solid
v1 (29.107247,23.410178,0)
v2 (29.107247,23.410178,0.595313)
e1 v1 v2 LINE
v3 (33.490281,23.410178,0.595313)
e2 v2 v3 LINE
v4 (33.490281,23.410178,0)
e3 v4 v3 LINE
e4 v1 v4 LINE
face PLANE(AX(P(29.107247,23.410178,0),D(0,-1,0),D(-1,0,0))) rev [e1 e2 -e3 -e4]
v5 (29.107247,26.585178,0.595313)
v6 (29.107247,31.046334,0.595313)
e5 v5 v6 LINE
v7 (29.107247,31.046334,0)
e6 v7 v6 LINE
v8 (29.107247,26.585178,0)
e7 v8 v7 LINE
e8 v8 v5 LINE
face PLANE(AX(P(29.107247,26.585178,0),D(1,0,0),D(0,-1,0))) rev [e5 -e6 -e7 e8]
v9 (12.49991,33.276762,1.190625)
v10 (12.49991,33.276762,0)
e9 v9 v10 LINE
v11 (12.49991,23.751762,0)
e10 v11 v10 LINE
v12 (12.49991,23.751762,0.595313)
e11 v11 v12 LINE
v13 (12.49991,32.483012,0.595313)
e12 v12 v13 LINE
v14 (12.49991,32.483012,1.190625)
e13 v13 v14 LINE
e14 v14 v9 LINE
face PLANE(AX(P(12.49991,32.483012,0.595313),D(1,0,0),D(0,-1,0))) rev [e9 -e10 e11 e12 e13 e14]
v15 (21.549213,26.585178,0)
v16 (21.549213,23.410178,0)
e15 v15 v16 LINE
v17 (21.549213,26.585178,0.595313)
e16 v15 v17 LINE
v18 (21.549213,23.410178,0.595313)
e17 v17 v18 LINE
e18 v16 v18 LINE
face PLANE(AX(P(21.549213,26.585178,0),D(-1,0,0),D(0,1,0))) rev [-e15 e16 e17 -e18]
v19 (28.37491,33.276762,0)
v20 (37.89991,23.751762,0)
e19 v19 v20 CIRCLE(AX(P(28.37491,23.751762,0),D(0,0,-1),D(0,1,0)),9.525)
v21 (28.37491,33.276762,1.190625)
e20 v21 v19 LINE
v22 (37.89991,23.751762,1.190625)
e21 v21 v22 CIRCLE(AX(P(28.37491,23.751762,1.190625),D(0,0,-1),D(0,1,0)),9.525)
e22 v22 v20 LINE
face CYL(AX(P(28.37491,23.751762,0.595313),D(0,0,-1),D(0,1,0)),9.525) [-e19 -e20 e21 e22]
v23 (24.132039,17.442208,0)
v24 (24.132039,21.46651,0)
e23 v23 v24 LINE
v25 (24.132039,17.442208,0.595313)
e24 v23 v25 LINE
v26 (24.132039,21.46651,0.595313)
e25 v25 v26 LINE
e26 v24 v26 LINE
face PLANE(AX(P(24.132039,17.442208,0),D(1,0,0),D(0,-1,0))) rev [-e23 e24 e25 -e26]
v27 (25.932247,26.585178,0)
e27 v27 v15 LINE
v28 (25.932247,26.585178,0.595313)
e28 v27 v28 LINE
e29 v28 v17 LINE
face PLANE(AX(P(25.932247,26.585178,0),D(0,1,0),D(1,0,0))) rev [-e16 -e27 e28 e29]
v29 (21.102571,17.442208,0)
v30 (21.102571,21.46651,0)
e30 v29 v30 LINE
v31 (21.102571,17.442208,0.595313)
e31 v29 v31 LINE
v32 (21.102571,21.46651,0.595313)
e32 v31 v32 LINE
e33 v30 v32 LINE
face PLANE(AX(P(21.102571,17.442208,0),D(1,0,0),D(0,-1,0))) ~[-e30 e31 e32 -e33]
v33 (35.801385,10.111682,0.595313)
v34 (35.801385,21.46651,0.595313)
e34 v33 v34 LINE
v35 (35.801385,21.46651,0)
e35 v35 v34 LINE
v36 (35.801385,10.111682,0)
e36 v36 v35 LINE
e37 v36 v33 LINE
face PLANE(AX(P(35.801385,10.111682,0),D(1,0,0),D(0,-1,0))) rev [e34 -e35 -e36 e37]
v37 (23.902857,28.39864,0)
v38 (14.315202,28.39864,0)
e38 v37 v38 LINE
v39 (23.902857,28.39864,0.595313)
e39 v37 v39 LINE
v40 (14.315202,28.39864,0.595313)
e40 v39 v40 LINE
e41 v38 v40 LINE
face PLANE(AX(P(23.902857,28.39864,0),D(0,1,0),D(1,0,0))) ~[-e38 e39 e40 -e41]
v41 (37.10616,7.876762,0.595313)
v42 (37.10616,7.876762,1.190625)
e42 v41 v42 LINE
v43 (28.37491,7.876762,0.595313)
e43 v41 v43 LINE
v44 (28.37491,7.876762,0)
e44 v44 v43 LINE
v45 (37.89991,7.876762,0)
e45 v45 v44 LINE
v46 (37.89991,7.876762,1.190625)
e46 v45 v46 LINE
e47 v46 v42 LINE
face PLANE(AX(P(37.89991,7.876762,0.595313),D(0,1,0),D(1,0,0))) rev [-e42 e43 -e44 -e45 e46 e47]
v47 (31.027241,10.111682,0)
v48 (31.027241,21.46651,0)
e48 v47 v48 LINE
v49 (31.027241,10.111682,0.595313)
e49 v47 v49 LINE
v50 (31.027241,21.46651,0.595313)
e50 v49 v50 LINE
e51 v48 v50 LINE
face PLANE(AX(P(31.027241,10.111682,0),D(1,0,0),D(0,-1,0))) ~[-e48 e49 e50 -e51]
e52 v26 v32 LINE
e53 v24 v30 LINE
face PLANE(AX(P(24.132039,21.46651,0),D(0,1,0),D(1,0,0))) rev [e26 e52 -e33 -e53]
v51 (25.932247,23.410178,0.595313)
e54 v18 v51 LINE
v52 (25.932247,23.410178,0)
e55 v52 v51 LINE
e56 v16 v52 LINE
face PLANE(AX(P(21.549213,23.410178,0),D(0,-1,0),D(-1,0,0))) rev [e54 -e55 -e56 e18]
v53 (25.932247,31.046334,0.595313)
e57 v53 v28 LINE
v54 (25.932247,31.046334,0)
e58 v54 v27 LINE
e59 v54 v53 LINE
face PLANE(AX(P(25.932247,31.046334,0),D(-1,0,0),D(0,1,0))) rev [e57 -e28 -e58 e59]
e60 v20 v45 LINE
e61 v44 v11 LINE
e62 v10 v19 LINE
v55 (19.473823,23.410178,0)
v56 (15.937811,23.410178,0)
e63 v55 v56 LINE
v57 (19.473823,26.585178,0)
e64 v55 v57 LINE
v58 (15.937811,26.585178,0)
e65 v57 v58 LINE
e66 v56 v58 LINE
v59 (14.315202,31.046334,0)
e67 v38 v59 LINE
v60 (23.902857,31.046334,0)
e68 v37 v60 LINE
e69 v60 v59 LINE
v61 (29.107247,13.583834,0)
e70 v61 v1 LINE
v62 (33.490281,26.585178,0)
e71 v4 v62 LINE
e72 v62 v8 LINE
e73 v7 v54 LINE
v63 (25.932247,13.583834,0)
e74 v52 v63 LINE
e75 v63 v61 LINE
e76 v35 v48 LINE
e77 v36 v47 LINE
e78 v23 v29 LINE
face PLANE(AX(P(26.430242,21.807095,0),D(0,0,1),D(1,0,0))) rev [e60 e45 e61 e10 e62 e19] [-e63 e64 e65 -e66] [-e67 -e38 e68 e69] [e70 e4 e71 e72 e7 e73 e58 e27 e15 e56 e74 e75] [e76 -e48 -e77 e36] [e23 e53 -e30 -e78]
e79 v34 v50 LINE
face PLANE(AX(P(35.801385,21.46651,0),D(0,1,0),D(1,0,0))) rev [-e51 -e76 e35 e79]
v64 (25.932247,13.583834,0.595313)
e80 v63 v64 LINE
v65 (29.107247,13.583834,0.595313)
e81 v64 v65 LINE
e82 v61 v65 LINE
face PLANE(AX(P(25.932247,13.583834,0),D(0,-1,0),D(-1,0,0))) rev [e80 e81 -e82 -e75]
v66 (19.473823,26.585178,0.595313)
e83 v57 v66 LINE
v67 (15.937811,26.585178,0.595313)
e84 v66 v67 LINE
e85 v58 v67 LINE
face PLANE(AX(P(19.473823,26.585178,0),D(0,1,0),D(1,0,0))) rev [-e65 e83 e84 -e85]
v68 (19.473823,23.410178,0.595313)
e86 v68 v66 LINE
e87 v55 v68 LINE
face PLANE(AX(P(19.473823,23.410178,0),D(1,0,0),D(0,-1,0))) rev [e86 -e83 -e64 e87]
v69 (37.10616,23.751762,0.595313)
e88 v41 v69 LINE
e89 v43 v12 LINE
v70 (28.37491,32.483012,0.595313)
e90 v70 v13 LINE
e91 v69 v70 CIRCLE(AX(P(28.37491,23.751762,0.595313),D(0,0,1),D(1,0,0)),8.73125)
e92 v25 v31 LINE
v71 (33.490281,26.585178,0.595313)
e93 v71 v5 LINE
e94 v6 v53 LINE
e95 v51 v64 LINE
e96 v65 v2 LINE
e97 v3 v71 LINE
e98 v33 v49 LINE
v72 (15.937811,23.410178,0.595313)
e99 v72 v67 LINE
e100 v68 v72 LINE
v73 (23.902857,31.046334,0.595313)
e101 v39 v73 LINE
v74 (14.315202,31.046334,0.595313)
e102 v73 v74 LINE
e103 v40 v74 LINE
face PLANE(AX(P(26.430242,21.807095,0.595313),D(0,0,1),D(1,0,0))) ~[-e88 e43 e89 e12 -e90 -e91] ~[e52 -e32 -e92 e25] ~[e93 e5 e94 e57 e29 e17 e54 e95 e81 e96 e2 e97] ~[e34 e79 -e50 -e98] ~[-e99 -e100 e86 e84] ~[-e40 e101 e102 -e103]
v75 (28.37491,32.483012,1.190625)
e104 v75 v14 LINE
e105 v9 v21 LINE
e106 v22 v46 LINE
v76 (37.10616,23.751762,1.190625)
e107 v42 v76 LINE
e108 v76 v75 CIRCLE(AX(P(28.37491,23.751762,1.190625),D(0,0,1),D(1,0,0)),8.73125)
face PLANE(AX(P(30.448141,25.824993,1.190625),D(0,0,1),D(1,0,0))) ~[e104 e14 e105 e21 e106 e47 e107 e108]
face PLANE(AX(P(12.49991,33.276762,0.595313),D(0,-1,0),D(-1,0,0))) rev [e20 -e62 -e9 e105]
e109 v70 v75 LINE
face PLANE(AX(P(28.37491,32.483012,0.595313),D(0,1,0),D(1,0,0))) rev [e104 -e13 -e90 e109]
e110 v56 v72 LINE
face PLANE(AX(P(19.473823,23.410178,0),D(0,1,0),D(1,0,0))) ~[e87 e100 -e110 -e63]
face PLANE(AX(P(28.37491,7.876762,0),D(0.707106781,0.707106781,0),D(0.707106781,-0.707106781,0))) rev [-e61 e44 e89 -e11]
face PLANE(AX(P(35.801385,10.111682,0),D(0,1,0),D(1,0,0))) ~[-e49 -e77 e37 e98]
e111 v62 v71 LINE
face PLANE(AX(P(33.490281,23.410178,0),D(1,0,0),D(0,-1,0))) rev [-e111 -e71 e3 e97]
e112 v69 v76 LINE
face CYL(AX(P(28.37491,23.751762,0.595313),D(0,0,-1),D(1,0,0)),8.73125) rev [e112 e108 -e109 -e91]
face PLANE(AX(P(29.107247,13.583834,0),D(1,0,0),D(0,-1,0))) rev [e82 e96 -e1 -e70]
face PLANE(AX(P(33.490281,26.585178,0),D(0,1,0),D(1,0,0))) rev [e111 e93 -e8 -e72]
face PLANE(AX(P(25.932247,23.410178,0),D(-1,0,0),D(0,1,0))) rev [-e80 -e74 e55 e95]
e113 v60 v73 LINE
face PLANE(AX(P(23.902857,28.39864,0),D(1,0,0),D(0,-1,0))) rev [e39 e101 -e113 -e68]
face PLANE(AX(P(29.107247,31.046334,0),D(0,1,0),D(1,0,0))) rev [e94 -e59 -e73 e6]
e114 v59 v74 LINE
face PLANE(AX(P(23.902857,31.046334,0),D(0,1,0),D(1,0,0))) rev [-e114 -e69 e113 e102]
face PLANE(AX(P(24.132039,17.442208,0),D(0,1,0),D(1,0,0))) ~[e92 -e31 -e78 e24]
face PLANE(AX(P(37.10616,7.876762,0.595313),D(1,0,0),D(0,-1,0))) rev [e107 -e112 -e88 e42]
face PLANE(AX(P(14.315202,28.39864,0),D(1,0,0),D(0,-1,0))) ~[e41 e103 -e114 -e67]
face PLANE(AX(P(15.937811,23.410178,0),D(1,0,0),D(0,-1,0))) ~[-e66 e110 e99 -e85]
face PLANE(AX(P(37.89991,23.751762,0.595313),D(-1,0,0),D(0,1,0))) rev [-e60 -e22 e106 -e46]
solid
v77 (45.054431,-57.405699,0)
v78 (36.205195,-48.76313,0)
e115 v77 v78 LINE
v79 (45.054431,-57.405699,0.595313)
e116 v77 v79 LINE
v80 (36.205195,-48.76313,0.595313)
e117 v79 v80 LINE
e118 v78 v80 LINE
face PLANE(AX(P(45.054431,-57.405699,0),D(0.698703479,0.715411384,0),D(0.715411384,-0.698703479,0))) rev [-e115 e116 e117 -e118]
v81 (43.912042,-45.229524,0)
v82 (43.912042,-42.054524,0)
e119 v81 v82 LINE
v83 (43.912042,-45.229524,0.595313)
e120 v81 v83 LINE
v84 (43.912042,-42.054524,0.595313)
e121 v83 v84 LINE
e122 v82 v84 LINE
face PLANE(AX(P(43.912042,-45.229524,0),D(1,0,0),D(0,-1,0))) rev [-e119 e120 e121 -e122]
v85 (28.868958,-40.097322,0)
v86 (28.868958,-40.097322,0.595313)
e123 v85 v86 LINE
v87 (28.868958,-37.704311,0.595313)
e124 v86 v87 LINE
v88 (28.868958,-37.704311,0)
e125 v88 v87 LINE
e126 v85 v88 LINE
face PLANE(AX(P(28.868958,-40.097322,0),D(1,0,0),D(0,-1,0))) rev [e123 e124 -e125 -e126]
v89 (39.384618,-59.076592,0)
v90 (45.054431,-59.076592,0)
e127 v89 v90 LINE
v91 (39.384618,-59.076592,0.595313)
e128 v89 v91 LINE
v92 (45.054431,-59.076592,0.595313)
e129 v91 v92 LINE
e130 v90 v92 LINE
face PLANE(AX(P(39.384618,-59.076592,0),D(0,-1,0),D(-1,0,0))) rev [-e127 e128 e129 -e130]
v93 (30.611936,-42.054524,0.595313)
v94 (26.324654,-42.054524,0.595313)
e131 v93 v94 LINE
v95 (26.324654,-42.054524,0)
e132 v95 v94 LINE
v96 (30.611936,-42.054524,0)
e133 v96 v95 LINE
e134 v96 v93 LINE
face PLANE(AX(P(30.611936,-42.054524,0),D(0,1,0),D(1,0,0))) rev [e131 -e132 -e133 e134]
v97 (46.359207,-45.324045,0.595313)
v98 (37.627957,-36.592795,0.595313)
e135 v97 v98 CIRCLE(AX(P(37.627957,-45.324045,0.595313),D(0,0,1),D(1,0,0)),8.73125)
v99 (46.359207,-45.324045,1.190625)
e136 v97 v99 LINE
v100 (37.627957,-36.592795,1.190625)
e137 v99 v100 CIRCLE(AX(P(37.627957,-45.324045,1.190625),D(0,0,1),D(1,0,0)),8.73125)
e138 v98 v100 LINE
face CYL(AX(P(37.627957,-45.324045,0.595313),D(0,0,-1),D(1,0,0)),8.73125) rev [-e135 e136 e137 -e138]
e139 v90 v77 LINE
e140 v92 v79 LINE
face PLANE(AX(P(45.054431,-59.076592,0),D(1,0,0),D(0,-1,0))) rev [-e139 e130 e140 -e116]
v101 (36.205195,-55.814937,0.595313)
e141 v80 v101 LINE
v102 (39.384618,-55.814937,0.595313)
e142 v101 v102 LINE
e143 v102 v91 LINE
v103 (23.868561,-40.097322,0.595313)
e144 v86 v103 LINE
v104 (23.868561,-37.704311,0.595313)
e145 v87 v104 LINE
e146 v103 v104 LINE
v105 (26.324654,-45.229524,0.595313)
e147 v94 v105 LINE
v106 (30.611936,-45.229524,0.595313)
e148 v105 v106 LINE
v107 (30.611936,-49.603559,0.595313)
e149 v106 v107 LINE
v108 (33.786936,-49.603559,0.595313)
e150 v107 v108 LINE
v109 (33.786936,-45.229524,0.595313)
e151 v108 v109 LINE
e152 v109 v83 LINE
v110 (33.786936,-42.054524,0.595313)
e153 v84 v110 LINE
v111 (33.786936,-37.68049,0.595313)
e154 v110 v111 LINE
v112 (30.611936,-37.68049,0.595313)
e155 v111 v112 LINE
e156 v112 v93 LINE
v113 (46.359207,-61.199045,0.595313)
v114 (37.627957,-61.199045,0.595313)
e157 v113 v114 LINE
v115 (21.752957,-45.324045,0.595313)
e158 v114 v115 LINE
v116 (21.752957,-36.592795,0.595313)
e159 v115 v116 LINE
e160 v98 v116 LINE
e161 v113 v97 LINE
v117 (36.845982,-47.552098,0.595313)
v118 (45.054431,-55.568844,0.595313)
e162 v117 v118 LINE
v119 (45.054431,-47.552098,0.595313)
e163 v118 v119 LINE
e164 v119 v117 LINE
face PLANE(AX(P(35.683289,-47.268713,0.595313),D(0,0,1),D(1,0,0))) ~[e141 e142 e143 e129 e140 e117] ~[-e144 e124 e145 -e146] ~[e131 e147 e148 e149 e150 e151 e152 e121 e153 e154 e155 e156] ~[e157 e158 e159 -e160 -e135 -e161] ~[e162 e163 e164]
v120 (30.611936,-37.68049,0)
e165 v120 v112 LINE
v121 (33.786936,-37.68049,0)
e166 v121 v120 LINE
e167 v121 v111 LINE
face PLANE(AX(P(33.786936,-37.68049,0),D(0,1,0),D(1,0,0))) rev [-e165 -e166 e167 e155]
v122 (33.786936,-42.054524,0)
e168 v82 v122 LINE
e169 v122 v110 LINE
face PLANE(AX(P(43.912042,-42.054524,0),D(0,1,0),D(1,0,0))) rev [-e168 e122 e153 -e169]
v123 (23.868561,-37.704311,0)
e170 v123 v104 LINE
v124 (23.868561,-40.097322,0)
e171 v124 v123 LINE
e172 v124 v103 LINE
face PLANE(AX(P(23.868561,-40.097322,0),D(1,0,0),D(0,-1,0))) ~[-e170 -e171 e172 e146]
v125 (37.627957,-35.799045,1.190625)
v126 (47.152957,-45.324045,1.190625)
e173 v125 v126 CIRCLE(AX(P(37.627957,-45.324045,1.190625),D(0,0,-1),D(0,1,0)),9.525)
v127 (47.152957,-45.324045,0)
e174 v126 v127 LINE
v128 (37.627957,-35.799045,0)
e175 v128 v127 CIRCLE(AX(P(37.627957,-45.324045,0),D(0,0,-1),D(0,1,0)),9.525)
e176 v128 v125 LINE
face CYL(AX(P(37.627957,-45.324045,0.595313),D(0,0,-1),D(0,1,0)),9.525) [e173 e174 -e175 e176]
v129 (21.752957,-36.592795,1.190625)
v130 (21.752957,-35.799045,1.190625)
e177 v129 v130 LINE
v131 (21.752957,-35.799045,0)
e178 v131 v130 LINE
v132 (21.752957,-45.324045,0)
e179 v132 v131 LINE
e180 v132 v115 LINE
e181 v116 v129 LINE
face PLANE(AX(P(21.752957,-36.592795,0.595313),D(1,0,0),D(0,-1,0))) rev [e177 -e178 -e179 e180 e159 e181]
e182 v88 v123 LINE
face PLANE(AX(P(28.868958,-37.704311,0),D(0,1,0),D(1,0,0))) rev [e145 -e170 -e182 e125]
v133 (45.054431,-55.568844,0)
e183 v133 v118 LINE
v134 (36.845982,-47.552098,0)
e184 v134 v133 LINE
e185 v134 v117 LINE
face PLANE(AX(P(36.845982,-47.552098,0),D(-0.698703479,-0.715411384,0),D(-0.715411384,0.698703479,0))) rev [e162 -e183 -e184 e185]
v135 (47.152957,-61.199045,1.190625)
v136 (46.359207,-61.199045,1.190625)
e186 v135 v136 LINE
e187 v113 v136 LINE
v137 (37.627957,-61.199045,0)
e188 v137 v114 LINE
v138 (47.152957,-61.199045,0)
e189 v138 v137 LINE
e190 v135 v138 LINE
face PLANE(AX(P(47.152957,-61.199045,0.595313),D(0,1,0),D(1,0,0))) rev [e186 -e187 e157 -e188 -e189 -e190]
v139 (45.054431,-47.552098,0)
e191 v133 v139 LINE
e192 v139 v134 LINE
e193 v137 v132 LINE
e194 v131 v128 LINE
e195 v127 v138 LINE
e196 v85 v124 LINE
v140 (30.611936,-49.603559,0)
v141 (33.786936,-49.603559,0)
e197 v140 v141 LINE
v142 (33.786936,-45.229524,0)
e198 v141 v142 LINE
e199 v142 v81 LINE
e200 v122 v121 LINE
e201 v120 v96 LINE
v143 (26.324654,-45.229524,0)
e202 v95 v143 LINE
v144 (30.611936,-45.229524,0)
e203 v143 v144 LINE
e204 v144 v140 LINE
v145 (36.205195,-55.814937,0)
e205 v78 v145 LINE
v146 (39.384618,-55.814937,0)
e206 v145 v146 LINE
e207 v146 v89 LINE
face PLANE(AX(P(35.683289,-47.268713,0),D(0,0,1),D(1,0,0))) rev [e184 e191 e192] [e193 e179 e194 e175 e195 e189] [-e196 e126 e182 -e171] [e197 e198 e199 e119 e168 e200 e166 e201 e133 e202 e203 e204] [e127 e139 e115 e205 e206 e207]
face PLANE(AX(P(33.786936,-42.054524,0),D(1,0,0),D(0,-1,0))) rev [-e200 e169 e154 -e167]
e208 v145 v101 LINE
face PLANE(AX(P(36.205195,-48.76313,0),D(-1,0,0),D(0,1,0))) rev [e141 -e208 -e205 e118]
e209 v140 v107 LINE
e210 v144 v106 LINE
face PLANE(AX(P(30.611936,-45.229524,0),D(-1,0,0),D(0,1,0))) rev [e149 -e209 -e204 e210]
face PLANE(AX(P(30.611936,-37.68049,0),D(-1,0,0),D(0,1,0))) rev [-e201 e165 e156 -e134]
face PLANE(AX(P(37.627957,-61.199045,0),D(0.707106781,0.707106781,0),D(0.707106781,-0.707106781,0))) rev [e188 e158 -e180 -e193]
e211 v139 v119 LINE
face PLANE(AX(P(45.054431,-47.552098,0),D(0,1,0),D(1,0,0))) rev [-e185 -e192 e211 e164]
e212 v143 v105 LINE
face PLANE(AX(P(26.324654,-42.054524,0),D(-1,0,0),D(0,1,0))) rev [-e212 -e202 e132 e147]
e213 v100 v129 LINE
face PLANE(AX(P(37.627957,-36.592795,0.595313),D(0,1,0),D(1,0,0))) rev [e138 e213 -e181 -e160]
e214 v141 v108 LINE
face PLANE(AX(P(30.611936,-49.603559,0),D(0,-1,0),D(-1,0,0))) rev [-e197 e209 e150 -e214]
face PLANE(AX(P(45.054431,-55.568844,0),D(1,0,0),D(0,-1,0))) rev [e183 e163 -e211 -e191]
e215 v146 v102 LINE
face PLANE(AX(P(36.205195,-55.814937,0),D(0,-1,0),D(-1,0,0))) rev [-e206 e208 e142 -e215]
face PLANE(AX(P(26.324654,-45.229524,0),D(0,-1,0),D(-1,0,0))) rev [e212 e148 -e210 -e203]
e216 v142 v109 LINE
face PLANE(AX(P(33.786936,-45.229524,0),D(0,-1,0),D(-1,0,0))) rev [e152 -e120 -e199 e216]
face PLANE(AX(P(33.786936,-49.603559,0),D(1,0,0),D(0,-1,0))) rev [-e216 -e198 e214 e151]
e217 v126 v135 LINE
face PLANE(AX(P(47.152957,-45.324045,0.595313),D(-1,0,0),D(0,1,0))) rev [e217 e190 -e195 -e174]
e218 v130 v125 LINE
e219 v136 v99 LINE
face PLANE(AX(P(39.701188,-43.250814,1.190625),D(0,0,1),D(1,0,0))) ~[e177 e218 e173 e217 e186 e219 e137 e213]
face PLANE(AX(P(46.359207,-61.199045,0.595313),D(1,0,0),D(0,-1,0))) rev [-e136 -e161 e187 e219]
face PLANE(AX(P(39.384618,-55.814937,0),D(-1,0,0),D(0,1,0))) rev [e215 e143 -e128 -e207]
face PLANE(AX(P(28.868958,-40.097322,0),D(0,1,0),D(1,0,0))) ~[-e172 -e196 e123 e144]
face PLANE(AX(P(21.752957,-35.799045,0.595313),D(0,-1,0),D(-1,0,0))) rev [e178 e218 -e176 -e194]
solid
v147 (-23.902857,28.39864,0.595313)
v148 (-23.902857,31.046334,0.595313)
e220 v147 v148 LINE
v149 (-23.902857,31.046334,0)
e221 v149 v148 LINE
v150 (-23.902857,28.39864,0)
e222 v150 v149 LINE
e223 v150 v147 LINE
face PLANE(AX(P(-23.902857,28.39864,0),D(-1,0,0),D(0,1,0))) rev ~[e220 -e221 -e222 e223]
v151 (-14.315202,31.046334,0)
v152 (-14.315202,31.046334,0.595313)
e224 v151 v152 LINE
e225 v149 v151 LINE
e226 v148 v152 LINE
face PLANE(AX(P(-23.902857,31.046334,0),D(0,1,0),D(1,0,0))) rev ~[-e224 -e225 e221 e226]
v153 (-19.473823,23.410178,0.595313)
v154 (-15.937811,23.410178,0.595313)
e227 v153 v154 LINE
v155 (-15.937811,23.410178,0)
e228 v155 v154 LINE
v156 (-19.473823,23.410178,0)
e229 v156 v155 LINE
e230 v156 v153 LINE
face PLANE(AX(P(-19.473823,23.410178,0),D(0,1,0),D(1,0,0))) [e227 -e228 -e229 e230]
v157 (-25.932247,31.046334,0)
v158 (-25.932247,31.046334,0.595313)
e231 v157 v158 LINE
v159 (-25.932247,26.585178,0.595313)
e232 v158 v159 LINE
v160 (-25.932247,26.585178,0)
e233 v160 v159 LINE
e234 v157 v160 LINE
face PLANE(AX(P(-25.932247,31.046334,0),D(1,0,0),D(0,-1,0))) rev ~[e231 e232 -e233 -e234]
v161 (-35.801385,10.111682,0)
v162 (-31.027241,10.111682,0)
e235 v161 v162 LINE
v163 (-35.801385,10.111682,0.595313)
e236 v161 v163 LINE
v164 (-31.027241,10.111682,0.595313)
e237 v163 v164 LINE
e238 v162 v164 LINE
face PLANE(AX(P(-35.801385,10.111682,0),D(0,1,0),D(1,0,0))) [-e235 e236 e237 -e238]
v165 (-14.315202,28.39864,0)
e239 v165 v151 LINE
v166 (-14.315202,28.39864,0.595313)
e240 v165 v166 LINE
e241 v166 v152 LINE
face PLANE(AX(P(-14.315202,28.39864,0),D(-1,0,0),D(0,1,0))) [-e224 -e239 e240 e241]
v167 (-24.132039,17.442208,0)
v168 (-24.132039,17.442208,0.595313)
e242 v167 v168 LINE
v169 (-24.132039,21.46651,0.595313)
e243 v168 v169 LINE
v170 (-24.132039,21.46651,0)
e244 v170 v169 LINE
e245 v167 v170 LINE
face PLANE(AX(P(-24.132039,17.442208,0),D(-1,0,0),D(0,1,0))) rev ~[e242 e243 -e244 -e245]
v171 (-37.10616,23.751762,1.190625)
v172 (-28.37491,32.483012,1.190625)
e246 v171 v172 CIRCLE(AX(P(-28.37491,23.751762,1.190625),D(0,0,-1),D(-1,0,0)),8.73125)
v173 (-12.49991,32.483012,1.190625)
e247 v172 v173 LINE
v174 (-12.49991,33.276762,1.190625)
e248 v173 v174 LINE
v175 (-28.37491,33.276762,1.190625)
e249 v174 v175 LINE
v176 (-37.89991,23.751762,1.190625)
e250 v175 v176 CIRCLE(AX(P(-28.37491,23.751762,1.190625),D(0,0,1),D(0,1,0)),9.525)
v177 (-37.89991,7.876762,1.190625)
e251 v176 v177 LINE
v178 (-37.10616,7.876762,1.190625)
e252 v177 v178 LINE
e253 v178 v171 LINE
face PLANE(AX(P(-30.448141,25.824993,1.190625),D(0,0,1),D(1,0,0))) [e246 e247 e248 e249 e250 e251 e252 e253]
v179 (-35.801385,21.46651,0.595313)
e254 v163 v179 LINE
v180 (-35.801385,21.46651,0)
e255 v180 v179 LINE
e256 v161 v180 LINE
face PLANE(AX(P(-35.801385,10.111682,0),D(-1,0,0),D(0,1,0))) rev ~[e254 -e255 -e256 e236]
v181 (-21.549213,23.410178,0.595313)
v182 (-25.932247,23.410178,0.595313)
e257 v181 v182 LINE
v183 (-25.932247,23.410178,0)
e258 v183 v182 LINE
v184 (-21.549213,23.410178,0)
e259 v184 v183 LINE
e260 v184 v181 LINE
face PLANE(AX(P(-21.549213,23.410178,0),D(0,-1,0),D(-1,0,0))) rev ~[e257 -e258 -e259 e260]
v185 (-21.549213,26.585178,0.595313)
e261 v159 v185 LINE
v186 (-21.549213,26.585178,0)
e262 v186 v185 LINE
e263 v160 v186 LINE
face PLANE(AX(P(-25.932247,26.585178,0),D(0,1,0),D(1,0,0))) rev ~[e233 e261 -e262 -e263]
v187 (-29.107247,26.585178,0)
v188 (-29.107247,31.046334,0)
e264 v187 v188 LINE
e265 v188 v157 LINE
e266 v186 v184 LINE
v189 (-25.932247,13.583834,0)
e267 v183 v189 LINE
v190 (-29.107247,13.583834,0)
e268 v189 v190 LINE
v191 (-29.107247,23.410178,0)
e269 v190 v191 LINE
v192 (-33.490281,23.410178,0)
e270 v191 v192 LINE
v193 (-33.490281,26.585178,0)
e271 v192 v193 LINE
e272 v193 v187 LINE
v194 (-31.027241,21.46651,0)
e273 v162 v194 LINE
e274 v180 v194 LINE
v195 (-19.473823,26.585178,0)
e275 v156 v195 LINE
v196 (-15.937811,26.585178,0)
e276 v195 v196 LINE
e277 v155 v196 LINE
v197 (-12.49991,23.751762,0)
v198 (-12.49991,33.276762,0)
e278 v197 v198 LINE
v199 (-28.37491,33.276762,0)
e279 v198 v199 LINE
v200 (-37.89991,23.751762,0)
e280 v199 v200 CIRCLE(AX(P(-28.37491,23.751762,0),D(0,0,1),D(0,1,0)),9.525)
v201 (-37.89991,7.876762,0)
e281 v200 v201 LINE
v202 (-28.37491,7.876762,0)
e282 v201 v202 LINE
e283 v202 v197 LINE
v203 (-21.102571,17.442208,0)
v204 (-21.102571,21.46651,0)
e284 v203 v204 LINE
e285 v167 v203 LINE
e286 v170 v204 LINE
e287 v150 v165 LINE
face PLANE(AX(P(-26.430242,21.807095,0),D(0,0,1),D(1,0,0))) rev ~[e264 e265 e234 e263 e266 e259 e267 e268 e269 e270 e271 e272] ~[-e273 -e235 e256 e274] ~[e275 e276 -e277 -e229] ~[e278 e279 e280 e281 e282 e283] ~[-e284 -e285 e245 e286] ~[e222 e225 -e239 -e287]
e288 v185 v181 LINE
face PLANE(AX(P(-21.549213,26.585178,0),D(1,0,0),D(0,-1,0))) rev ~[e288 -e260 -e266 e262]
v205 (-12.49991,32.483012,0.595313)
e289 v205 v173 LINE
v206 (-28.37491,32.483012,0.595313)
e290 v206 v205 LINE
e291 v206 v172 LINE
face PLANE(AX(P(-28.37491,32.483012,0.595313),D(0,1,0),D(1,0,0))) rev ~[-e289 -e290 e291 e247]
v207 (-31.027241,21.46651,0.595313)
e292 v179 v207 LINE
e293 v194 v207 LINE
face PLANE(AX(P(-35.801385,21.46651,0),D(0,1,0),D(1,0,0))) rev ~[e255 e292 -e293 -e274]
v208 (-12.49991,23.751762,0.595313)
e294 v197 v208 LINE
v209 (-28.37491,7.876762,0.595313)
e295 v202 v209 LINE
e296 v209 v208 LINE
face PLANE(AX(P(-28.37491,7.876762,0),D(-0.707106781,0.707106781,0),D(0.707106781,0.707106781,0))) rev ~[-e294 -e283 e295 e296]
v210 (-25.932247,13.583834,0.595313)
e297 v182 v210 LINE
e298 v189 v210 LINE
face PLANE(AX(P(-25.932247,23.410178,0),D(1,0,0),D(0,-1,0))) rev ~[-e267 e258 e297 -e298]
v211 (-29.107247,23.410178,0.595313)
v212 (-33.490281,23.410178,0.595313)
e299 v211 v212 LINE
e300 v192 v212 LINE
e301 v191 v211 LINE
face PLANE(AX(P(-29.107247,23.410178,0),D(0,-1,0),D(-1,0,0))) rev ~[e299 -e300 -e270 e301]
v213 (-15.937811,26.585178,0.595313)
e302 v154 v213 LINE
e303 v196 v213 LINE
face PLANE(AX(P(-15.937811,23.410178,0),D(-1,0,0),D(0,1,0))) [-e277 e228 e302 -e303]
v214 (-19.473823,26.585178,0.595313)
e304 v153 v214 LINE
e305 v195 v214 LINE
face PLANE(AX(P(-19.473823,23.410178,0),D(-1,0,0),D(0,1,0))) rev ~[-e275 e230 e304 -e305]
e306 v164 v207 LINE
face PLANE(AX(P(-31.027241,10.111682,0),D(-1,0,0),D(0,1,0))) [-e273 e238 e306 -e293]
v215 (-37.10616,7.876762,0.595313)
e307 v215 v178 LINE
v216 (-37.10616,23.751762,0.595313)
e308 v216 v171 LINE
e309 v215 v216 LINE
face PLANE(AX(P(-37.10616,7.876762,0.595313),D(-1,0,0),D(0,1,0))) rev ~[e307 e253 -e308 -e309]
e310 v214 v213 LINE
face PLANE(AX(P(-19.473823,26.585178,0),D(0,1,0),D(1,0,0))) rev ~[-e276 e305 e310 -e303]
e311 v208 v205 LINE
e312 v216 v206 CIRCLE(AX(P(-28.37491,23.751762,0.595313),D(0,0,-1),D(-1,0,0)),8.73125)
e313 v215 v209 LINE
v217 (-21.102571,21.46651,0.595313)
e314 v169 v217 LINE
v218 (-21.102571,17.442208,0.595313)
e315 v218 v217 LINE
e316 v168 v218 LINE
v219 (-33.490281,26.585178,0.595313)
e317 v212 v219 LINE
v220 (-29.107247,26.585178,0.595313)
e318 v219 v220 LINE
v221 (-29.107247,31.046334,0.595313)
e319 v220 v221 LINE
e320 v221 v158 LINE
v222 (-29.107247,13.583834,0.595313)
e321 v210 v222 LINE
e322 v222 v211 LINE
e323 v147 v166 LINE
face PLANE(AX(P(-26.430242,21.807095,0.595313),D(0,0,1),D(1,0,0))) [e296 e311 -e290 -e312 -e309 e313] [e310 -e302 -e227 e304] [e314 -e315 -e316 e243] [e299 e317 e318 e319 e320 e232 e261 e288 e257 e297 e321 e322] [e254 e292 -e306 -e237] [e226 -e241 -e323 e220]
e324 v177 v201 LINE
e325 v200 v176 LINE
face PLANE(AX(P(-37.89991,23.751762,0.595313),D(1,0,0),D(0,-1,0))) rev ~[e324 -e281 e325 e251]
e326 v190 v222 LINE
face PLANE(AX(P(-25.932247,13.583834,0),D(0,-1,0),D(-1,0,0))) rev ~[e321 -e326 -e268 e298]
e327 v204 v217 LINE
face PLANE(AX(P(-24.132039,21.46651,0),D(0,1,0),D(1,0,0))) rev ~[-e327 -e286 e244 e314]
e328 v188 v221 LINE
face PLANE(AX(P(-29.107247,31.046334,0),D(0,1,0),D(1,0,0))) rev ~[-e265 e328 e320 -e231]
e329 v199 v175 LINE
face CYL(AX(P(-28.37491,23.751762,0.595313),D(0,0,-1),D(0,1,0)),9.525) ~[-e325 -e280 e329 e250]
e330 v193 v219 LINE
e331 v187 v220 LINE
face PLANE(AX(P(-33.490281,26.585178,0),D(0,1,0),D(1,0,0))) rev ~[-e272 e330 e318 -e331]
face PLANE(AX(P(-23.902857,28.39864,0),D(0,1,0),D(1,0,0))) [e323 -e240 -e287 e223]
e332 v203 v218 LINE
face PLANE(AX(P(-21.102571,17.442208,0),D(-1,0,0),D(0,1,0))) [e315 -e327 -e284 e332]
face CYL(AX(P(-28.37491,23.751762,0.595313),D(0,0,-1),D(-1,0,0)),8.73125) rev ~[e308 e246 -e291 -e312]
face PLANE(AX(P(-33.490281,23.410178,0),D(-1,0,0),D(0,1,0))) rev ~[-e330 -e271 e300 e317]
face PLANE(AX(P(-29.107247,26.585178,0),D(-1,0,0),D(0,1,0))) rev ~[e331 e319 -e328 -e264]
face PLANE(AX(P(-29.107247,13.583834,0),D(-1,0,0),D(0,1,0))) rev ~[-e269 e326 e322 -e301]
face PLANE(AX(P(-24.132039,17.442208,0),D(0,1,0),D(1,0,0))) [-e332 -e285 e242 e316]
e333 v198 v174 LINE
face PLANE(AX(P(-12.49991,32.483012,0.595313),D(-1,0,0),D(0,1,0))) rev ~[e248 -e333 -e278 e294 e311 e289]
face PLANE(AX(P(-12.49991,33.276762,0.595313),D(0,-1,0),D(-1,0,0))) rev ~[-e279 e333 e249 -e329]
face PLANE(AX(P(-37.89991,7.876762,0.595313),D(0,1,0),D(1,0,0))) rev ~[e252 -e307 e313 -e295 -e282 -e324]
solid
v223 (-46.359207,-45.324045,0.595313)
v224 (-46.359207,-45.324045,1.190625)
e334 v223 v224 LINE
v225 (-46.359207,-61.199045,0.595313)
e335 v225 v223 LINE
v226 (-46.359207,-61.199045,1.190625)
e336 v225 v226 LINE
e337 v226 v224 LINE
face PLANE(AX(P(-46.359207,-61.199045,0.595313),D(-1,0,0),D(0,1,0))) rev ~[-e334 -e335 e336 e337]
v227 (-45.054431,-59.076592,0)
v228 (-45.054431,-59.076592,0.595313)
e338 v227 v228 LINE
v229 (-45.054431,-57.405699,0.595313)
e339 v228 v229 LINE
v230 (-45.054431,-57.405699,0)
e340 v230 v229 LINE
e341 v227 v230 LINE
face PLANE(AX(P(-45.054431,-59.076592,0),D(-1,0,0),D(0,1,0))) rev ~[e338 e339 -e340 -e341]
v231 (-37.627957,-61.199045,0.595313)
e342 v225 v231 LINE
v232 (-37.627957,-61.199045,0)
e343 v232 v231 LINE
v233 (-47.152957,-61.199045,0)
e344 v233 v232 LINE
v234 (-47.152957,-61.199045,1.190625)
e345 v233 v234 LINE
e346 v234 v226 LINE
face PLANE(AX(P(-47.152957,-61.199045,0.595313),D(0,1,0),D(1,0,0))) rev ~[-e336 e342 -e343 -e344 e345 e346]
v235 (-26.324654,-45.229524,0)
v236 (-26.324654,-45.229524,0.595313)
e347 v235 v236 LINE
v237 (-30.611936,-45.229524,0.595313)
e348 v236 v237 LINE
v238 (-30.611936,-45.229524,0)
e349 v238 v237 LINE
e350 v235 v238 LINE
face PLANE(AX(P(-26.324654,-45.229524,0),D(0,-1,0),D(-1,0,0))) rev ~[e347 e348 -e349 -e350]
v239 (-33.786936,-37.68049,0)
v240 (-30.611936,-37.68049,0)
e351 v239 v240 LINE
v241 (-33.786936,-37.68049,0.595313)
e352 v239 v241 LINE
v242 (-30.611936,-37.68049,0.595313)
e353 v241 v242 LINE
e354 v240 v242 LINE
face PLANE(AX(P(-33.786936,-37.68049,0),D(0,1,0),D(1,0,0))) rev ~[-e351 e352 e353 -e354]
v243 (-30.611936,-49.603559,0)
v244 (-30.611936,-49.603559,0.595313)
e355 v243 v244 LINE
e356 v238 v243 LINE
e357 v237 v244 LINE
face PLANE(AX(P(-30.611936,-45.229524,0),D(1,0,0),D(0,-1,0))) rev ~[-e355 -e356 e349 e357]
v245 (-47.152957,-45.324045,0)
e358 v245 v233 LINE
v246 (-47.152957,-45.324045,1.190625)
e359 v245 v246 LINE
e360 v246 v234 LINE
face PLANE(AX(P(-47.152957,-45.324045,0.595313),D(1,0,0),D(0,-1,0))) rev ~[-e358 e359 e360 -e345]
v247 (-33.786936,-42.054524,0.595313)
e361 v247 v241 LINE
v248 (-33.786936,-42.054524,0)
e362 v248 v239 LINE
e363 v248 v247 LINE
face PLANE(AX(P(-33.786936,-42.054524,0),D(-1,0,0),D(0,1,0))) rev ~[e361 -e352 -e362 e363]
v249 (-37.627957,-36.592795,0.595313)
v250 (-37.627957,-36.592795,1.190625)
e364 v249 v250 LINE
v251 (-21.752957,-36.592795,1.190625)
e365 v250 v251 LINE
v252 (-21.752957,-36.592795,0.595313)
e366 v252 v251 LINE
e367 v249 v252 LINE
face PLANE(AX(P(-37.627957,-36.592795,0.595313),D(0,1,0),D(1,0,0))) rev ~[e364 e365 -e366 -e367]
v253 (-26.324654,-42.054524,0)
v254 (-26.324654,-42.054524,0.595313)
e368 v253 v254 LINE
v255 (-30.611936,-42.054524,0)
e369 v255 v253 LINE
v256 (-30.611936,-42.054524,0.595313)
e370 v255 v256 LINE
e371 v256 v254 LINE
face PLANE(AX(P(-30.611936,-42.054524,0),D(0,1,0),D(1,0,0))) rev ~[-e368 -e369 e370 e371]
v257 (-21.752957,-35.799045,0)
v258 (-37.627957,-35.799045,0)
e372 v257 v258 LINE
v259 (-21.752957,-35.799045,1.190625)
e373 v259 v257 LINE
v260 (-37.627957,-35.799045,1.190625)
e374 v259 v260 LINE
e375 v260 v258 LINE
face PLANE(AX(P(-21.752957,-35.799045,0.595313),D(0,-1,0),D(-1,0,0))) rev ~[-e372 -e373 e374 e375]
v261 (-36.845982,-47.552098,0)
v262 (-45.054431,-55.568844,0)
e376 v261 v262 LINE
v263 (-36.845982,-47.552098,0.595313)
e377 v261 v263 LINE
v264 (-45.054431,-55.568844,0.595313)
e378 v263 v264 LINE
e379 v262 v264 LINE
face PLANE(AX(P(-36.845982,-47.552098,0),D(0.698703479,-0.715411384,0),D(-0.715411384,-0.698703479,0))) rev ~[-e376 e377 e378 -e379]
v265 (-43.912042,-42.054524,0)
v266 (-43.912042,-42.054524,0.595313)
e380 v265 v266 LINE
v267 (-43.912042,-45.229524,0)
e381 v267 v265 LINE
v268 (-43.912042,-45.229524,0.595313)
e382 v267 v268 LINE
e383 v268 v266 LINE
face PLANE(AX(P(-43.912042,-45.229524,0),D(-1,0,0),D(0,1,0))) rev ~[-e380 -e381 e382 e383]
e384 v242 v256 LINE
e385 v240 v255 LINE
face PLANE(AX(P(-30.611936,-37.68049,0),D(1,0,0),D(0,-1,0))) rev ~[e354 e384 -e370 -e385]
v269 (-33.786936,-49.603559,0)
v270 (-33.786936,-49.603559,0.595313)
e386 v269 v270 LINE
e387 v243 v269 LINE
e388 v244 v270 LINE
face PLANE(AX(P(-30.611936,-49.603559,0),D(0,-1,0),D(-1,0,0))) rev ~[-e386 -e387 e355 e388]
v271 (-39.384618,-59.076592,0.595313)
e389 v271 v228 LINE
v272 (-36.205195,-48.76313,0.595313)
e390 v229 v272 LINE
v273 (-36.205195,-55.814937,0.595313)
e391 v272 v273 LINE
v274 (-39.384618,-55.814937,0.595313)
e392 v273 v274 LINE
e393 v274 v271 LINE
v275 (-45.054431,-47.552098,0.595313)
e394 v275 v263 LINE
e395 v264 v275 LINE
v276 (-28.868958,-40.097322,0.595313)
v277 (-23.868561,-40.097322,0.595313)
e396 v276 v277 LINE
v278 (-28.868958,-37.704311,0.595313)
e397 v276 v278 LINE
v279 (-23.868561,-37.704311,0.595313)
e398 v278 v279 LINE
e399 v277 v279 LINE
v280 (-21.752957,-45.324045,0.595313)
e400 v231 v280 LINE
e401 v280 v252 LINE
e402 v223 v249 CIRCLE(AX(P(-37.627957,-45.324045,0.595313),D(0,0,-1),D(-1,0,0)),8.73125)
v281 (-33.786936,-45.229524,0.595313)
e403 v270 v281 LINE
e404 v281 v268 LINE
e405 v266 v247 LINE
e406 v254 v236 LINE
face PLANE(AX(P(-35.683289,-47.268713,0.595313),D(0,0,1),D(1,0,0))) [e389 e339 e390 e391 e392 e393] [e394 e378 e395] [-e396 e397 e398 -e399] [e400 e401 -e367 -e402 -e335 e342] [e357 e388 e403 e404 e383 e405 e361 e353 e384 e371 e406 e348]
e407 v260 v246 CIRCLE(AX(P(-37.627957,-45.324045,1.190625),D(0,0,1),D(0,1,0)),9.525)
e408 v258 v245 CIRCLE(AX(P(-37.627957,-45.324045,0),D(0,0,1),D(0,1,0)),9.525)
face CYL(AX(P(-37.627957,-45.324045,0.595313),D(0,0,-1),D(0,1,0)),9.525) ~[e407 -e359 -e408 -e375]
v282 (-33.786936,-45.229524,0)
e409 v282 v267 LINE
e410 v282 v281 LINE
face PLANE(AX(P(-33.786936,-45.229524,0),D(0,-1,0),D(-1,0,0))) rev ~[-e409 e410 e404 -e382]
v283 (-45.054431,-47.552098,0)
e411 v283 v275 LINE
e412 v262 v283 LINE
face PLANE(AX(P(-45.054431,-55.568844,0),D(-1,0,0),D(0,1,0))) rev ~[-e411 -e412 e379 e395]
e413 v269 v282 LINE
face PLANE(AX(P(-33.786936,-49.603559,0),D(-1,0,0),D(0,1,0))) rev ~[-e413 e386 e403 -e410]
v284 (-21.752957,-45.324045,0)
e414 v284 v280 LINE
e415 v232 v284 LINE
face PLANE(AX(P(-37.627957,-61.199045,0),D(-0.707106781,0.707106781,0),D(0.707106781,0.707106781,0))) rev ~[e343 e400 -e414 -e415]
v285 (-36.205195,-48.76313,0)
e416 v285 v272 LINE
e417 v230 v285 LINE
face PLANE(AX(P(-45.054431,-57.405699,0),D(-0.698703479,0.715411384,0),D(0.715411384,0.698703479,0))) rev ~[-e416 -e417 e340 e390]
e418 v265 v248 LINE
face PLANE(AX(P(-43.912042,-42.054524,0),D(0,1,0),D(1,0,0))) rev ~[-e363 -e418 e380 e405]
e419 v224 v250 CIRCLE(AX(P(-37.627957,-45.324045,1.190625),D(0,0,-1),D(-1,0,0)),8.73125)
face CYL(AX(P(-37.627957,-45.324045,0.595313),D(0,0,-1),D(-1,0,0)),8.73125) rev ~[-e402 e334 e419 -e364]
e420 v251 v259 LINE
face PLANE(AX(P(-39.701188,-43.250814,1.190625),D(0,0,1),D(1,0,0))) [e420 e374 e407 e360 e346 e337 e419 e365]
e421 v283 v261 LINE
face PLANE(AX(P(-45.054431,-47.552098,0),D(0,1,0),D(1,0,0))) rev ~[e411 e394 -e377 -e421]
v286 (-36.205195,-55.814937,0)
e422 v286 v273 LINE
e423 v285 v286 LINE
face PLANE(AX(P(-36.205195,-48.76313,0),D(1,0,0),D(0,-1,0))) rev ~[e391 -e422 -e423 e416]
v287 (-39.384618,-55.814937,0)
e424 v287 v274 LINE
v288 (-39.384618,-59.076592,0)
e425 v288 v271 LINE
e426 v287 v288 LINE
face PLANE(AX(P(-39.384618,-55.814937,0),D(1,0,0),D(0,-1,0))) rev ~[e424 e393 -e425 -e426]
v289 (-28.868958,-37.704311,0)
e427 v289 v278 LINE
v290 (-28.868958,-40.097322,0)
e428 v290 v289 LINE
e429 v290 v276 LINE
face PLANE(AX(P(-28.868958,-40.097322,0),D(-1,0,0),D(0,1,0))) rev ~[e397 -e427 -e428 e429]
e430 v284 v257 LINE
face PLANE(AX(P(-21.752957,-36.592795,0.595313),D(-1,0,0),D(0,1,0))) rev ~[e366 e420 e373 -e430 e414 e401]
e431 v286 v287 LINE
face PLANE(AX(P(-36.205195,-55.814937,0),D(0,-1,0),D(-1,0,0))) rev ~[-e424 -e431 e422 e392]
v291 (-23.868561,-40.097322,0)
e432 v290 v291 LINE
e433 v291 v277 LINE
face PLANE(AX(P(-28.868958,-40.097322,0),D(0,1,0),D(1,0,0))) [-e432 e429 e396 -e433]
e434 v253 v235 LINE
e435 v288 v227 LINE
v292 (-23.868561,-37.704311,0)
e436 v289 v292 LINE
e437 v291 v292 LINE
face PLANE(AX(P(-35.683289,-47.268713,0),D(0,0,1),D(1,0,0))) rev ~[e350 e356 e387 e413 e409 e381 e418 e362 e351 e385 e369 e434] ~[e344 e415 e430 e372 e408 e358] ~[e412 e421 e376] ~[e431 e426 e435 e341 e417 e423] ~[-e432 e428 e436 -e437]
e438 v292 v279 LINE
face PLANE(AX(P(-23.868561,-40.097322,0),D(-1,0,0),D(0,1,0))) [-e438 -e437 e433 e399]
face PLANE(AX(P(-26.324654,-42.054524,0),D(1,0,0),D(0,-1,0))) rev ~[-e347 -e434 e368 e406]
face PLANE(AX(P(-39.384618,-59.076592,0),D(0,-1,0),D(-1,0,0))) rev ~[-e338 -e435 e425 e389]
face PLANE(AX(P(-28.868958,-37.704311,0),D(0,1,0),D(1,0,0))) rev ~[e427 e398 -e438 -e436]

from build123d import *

# Parameters (mm, degrees)
F0_W      = 4.7741434537
F0_H      = 11.3548277877
F0_W_2    = 3.029467538
F0_H_2    = 4.0243016556
F0_W_3    = 3.5360120237
F0_H_3    = 3.175
F0_W_4    = 9.5876548439
F0_H_4    = 2.6476947606
F1_DEPTH  = 0.5953125
F3_W      = 5.000397563
F3_H      = 2.3930110037
F4_DEPTH  = 0.5953125
F7_DEPTH  = 0.5953125
F10_DEPTH = 0.5953125


with BuildPart() as f1:
    # F0 (on Top) → F1 (new body)
    with BuildSketch(Plane.XY):
        with BuildLine():
            Line((-37.8999099401, 23.7517624235), (-37.8999099401, 7.8767624235))
            Line((-37.8999099401, 7.8767624235), (-28.3749099401, 7.8767624235))
            Line((-28.3749099401, 7.8767624235), (-12.4999099401, 23.7517624235))
            Line((-12.4999099401, 23.7517624235), (-12.4999099401, 33.2767624235))
            Line((-12.4999099401, 33.2767624235), (-28.3749099401, 33.2767624235))
            ThreePointArc((-28.3749099401, 33.2767624235), (-35.1101020309, 30.4869545143), (-37.8999099401, 23.7517624235))
        make_face()
        with Locations((-33.4143128712, 15.7890960108)):
            Rectangle(F0_W, F0_H, mode=Mode.SUBTRACT)
        with Locations((-22.6173051633, 19.4543590769)):
            Rectangle(F0_W_2, F0_H_2, mode=Mode.SUBTRACT)
        Polygon((-29.1072471009, 31.0463342831), (-27.5197471009, 31.0463342831), (-25.9322471009, 31.0463342831), (-25.9322471009, 26.5851784881), (-21.5492131154, 26.5851784881), (-21.5492131154, 23.4101784881), (-25.9322471009, 23.4101784881), (-25.9322471009, 13.5838342831), (-27.5197471009, 13.5838342831), (-29.1072471009, 13.5838342831), (-29.1072471009, 23.4101784881), (-33.4902810864, 23.4101784881), (-33.4902810864, 26.5851784881), (-29.1072471009, 26.5851784881), align=None, mode=Mode.SUBTRACT)
        with Locations((-17.7058172412, 24.9976784881)):
            Rectangle(F0_W_3, F0_H_3, mode=Mode.SUBTRACT)
        with Locations((-19.1090297885, 29.7224869028)):
            Rectangle(F0_W_4, F0_H_4, mode=Mode.SUBTRACT)
    extrude(amount=F1_DEPTH)


with BuildPart() as f2_1:
    # F2: instance of F1
    add(f1.part.mirror(Plane.YZ))

    # F8: F1 across plane


with BuildPart() as f4:
    # F3 (on Top) → F4 (new body)
    with BuildSketch(Plane.XY):
        with BuildLine():
            Line((-47.1529566733, -45.3240452789), (-47.1529566733, -61.1990452789))
            Line((-47.1529566733, -61.1990452789), (-37.6279566733, -61.1990452789))
            Line((-37.6279566733, -61.1990452789), (-21.7529566733, -45.3240452789))
            Line((-21.7529566733, -45.3240452789), (-21.7529566733, -35.7990452789))
            Line((-21.7529566733, -35.7990452789), (-37.6279566733, -35.7990452789))
            ThreePointArc((-37.6279566733, -35.7990452789), (-44.3631487641, -38.5888531881), (-47.1529566733, -45.3240452789))
        make_face()
        Polygon((-45.0544313312, -47.5520975888), (-36.8459821744, -47.5520975888), (-45.0544313312, -55.5688444664), align=None, mode=Mode.SUBTRACT)
        Polygon((-36.2051948905, -48.7631298602), (-36.2051948905, -55.8149367571), (-39.3846184015, -55.8149367571), (-39.3846184015, -59.0765923262), (-45.0544313312, -59.0765923262), (-45.0544313312, -57.405698907), align=None, mode=Mode.SUBTRACT)
        Polygon((-26.324653998, -42.054524374), (-26.324653998, -43.272908777), (-26.324653998, -45.229524374), (-30.611936003, -45.229524374), (-30.611936003, -49.6035590768), (-33.786936003, -49.6035590768), (-33.786936003, -45.229524374), (-43.9120419323, -45.229524374), (-43.9120419323, -42.054524374), (-33.786936003, -42.054524374), (-33.786936003, -37.6804896712), (-30.611936003, -37.6804896712), (-30.611936003, -42.054524374), align=None, mode=Mode.SUBTRACT)
        with Locations((-26.3687595725, -38.9008168131)):
            Rectangle(F3_W, F3_H, mode=Mode.SUBTRACT)
    extrude(amount=F4_DEPTH)


with BuildPart() as f5_1:
    # F5: instance of F4
    add(f4.part.mirror(Plane.YZ))

    # F11: F4 across plane


with BuildPart() as f1_1:
    add(f1.part)

    # F6 (on face) → F7 (join)
    with BuildSketch(Plane.XY.offset(0.5953125)):
        with BuildLine():
            ThreePointArc((-37.1061599401, 23.7517624235), (-34.5488360233, 29.9256885068), (-28.3749099401, 32.4830124235))
            Line((-28.3749099401, 32.4830124235), (-12.4999099401, 32.4830124235))
            Line((-12.4999099401, 32.4830124235), (-12.4999099401, 33.2767624235))
            Line((-12.4999099401, 33.2767624235), (-28.3749099401, 33.2767624235))
            ThreePointArc((-28.3749099401, 33.2767624235), (-35.1101020309, 30.4869545143), (-37.8999099401, 23.7517624235))
            Line((-37.8999099401, 23.7517624235), (-37.8999099401, 7.8767624235))
            Line((-37.8999099401, 7.8767624235), (-37.1061599401, 7.8767624235))
            Line((-37.1061599401, 7.8767624235), (-37.1061599401, 23.7517624235))
        make_face()
    extrude(amount=F7_DEPTH)


with BuildPart() as f2_1_1:
    add(f2_1.part)
    add(f1_1.part.mirror(Plane.YZ))


with BuildPart() as f4_1:
    add(f4.part)

    # F9 (on face) → F10 (join)
    with BuildSketch(Plane.XY.offset(0.5953125)):
        with BuildLine():
            ThreePointArc((-37.6279566733, -35.7990452789), (-44.3631487641, -38.5888531881), (-47.1529566733, -45.3240452789))
            Line((-47.1529566733, -45.3240452789), (-47.1529566733, -61.1990452789))
            Line((-47.1529566733, -61.1990452789), (-46.3592066733, -61.1990452789))
            Line((-46.3592066733, -61.1990452789), (-46.3592066733, -45.3240452789))
            ThreePointArc((-46.3592066733, -45.3240452789), (-43.8018827565, -39.1501191957), (-37.6279566733, -36.5927952789))
            Line((-37.6279566733, -36.5927952789), (-21.7529566733, -36.5927952789))
            Line((-21.7529566733, -36.5927952789), (-21.7529566733, -35.7990452789))
            Line((-21.7529566733, -35.7990452789), (-37.6279566733, -35.7990452789))
        make_face()
    extrude(amount=F10_DEPTH)


with BuildPart() as f5_1_1:
    add(f5_1.part)
    add(f4_1.part.mirror(Plane.YZ))


solid = Compound([f1_1.part, f2_1_1.part, f4_1.part, f5_1_1.part])
